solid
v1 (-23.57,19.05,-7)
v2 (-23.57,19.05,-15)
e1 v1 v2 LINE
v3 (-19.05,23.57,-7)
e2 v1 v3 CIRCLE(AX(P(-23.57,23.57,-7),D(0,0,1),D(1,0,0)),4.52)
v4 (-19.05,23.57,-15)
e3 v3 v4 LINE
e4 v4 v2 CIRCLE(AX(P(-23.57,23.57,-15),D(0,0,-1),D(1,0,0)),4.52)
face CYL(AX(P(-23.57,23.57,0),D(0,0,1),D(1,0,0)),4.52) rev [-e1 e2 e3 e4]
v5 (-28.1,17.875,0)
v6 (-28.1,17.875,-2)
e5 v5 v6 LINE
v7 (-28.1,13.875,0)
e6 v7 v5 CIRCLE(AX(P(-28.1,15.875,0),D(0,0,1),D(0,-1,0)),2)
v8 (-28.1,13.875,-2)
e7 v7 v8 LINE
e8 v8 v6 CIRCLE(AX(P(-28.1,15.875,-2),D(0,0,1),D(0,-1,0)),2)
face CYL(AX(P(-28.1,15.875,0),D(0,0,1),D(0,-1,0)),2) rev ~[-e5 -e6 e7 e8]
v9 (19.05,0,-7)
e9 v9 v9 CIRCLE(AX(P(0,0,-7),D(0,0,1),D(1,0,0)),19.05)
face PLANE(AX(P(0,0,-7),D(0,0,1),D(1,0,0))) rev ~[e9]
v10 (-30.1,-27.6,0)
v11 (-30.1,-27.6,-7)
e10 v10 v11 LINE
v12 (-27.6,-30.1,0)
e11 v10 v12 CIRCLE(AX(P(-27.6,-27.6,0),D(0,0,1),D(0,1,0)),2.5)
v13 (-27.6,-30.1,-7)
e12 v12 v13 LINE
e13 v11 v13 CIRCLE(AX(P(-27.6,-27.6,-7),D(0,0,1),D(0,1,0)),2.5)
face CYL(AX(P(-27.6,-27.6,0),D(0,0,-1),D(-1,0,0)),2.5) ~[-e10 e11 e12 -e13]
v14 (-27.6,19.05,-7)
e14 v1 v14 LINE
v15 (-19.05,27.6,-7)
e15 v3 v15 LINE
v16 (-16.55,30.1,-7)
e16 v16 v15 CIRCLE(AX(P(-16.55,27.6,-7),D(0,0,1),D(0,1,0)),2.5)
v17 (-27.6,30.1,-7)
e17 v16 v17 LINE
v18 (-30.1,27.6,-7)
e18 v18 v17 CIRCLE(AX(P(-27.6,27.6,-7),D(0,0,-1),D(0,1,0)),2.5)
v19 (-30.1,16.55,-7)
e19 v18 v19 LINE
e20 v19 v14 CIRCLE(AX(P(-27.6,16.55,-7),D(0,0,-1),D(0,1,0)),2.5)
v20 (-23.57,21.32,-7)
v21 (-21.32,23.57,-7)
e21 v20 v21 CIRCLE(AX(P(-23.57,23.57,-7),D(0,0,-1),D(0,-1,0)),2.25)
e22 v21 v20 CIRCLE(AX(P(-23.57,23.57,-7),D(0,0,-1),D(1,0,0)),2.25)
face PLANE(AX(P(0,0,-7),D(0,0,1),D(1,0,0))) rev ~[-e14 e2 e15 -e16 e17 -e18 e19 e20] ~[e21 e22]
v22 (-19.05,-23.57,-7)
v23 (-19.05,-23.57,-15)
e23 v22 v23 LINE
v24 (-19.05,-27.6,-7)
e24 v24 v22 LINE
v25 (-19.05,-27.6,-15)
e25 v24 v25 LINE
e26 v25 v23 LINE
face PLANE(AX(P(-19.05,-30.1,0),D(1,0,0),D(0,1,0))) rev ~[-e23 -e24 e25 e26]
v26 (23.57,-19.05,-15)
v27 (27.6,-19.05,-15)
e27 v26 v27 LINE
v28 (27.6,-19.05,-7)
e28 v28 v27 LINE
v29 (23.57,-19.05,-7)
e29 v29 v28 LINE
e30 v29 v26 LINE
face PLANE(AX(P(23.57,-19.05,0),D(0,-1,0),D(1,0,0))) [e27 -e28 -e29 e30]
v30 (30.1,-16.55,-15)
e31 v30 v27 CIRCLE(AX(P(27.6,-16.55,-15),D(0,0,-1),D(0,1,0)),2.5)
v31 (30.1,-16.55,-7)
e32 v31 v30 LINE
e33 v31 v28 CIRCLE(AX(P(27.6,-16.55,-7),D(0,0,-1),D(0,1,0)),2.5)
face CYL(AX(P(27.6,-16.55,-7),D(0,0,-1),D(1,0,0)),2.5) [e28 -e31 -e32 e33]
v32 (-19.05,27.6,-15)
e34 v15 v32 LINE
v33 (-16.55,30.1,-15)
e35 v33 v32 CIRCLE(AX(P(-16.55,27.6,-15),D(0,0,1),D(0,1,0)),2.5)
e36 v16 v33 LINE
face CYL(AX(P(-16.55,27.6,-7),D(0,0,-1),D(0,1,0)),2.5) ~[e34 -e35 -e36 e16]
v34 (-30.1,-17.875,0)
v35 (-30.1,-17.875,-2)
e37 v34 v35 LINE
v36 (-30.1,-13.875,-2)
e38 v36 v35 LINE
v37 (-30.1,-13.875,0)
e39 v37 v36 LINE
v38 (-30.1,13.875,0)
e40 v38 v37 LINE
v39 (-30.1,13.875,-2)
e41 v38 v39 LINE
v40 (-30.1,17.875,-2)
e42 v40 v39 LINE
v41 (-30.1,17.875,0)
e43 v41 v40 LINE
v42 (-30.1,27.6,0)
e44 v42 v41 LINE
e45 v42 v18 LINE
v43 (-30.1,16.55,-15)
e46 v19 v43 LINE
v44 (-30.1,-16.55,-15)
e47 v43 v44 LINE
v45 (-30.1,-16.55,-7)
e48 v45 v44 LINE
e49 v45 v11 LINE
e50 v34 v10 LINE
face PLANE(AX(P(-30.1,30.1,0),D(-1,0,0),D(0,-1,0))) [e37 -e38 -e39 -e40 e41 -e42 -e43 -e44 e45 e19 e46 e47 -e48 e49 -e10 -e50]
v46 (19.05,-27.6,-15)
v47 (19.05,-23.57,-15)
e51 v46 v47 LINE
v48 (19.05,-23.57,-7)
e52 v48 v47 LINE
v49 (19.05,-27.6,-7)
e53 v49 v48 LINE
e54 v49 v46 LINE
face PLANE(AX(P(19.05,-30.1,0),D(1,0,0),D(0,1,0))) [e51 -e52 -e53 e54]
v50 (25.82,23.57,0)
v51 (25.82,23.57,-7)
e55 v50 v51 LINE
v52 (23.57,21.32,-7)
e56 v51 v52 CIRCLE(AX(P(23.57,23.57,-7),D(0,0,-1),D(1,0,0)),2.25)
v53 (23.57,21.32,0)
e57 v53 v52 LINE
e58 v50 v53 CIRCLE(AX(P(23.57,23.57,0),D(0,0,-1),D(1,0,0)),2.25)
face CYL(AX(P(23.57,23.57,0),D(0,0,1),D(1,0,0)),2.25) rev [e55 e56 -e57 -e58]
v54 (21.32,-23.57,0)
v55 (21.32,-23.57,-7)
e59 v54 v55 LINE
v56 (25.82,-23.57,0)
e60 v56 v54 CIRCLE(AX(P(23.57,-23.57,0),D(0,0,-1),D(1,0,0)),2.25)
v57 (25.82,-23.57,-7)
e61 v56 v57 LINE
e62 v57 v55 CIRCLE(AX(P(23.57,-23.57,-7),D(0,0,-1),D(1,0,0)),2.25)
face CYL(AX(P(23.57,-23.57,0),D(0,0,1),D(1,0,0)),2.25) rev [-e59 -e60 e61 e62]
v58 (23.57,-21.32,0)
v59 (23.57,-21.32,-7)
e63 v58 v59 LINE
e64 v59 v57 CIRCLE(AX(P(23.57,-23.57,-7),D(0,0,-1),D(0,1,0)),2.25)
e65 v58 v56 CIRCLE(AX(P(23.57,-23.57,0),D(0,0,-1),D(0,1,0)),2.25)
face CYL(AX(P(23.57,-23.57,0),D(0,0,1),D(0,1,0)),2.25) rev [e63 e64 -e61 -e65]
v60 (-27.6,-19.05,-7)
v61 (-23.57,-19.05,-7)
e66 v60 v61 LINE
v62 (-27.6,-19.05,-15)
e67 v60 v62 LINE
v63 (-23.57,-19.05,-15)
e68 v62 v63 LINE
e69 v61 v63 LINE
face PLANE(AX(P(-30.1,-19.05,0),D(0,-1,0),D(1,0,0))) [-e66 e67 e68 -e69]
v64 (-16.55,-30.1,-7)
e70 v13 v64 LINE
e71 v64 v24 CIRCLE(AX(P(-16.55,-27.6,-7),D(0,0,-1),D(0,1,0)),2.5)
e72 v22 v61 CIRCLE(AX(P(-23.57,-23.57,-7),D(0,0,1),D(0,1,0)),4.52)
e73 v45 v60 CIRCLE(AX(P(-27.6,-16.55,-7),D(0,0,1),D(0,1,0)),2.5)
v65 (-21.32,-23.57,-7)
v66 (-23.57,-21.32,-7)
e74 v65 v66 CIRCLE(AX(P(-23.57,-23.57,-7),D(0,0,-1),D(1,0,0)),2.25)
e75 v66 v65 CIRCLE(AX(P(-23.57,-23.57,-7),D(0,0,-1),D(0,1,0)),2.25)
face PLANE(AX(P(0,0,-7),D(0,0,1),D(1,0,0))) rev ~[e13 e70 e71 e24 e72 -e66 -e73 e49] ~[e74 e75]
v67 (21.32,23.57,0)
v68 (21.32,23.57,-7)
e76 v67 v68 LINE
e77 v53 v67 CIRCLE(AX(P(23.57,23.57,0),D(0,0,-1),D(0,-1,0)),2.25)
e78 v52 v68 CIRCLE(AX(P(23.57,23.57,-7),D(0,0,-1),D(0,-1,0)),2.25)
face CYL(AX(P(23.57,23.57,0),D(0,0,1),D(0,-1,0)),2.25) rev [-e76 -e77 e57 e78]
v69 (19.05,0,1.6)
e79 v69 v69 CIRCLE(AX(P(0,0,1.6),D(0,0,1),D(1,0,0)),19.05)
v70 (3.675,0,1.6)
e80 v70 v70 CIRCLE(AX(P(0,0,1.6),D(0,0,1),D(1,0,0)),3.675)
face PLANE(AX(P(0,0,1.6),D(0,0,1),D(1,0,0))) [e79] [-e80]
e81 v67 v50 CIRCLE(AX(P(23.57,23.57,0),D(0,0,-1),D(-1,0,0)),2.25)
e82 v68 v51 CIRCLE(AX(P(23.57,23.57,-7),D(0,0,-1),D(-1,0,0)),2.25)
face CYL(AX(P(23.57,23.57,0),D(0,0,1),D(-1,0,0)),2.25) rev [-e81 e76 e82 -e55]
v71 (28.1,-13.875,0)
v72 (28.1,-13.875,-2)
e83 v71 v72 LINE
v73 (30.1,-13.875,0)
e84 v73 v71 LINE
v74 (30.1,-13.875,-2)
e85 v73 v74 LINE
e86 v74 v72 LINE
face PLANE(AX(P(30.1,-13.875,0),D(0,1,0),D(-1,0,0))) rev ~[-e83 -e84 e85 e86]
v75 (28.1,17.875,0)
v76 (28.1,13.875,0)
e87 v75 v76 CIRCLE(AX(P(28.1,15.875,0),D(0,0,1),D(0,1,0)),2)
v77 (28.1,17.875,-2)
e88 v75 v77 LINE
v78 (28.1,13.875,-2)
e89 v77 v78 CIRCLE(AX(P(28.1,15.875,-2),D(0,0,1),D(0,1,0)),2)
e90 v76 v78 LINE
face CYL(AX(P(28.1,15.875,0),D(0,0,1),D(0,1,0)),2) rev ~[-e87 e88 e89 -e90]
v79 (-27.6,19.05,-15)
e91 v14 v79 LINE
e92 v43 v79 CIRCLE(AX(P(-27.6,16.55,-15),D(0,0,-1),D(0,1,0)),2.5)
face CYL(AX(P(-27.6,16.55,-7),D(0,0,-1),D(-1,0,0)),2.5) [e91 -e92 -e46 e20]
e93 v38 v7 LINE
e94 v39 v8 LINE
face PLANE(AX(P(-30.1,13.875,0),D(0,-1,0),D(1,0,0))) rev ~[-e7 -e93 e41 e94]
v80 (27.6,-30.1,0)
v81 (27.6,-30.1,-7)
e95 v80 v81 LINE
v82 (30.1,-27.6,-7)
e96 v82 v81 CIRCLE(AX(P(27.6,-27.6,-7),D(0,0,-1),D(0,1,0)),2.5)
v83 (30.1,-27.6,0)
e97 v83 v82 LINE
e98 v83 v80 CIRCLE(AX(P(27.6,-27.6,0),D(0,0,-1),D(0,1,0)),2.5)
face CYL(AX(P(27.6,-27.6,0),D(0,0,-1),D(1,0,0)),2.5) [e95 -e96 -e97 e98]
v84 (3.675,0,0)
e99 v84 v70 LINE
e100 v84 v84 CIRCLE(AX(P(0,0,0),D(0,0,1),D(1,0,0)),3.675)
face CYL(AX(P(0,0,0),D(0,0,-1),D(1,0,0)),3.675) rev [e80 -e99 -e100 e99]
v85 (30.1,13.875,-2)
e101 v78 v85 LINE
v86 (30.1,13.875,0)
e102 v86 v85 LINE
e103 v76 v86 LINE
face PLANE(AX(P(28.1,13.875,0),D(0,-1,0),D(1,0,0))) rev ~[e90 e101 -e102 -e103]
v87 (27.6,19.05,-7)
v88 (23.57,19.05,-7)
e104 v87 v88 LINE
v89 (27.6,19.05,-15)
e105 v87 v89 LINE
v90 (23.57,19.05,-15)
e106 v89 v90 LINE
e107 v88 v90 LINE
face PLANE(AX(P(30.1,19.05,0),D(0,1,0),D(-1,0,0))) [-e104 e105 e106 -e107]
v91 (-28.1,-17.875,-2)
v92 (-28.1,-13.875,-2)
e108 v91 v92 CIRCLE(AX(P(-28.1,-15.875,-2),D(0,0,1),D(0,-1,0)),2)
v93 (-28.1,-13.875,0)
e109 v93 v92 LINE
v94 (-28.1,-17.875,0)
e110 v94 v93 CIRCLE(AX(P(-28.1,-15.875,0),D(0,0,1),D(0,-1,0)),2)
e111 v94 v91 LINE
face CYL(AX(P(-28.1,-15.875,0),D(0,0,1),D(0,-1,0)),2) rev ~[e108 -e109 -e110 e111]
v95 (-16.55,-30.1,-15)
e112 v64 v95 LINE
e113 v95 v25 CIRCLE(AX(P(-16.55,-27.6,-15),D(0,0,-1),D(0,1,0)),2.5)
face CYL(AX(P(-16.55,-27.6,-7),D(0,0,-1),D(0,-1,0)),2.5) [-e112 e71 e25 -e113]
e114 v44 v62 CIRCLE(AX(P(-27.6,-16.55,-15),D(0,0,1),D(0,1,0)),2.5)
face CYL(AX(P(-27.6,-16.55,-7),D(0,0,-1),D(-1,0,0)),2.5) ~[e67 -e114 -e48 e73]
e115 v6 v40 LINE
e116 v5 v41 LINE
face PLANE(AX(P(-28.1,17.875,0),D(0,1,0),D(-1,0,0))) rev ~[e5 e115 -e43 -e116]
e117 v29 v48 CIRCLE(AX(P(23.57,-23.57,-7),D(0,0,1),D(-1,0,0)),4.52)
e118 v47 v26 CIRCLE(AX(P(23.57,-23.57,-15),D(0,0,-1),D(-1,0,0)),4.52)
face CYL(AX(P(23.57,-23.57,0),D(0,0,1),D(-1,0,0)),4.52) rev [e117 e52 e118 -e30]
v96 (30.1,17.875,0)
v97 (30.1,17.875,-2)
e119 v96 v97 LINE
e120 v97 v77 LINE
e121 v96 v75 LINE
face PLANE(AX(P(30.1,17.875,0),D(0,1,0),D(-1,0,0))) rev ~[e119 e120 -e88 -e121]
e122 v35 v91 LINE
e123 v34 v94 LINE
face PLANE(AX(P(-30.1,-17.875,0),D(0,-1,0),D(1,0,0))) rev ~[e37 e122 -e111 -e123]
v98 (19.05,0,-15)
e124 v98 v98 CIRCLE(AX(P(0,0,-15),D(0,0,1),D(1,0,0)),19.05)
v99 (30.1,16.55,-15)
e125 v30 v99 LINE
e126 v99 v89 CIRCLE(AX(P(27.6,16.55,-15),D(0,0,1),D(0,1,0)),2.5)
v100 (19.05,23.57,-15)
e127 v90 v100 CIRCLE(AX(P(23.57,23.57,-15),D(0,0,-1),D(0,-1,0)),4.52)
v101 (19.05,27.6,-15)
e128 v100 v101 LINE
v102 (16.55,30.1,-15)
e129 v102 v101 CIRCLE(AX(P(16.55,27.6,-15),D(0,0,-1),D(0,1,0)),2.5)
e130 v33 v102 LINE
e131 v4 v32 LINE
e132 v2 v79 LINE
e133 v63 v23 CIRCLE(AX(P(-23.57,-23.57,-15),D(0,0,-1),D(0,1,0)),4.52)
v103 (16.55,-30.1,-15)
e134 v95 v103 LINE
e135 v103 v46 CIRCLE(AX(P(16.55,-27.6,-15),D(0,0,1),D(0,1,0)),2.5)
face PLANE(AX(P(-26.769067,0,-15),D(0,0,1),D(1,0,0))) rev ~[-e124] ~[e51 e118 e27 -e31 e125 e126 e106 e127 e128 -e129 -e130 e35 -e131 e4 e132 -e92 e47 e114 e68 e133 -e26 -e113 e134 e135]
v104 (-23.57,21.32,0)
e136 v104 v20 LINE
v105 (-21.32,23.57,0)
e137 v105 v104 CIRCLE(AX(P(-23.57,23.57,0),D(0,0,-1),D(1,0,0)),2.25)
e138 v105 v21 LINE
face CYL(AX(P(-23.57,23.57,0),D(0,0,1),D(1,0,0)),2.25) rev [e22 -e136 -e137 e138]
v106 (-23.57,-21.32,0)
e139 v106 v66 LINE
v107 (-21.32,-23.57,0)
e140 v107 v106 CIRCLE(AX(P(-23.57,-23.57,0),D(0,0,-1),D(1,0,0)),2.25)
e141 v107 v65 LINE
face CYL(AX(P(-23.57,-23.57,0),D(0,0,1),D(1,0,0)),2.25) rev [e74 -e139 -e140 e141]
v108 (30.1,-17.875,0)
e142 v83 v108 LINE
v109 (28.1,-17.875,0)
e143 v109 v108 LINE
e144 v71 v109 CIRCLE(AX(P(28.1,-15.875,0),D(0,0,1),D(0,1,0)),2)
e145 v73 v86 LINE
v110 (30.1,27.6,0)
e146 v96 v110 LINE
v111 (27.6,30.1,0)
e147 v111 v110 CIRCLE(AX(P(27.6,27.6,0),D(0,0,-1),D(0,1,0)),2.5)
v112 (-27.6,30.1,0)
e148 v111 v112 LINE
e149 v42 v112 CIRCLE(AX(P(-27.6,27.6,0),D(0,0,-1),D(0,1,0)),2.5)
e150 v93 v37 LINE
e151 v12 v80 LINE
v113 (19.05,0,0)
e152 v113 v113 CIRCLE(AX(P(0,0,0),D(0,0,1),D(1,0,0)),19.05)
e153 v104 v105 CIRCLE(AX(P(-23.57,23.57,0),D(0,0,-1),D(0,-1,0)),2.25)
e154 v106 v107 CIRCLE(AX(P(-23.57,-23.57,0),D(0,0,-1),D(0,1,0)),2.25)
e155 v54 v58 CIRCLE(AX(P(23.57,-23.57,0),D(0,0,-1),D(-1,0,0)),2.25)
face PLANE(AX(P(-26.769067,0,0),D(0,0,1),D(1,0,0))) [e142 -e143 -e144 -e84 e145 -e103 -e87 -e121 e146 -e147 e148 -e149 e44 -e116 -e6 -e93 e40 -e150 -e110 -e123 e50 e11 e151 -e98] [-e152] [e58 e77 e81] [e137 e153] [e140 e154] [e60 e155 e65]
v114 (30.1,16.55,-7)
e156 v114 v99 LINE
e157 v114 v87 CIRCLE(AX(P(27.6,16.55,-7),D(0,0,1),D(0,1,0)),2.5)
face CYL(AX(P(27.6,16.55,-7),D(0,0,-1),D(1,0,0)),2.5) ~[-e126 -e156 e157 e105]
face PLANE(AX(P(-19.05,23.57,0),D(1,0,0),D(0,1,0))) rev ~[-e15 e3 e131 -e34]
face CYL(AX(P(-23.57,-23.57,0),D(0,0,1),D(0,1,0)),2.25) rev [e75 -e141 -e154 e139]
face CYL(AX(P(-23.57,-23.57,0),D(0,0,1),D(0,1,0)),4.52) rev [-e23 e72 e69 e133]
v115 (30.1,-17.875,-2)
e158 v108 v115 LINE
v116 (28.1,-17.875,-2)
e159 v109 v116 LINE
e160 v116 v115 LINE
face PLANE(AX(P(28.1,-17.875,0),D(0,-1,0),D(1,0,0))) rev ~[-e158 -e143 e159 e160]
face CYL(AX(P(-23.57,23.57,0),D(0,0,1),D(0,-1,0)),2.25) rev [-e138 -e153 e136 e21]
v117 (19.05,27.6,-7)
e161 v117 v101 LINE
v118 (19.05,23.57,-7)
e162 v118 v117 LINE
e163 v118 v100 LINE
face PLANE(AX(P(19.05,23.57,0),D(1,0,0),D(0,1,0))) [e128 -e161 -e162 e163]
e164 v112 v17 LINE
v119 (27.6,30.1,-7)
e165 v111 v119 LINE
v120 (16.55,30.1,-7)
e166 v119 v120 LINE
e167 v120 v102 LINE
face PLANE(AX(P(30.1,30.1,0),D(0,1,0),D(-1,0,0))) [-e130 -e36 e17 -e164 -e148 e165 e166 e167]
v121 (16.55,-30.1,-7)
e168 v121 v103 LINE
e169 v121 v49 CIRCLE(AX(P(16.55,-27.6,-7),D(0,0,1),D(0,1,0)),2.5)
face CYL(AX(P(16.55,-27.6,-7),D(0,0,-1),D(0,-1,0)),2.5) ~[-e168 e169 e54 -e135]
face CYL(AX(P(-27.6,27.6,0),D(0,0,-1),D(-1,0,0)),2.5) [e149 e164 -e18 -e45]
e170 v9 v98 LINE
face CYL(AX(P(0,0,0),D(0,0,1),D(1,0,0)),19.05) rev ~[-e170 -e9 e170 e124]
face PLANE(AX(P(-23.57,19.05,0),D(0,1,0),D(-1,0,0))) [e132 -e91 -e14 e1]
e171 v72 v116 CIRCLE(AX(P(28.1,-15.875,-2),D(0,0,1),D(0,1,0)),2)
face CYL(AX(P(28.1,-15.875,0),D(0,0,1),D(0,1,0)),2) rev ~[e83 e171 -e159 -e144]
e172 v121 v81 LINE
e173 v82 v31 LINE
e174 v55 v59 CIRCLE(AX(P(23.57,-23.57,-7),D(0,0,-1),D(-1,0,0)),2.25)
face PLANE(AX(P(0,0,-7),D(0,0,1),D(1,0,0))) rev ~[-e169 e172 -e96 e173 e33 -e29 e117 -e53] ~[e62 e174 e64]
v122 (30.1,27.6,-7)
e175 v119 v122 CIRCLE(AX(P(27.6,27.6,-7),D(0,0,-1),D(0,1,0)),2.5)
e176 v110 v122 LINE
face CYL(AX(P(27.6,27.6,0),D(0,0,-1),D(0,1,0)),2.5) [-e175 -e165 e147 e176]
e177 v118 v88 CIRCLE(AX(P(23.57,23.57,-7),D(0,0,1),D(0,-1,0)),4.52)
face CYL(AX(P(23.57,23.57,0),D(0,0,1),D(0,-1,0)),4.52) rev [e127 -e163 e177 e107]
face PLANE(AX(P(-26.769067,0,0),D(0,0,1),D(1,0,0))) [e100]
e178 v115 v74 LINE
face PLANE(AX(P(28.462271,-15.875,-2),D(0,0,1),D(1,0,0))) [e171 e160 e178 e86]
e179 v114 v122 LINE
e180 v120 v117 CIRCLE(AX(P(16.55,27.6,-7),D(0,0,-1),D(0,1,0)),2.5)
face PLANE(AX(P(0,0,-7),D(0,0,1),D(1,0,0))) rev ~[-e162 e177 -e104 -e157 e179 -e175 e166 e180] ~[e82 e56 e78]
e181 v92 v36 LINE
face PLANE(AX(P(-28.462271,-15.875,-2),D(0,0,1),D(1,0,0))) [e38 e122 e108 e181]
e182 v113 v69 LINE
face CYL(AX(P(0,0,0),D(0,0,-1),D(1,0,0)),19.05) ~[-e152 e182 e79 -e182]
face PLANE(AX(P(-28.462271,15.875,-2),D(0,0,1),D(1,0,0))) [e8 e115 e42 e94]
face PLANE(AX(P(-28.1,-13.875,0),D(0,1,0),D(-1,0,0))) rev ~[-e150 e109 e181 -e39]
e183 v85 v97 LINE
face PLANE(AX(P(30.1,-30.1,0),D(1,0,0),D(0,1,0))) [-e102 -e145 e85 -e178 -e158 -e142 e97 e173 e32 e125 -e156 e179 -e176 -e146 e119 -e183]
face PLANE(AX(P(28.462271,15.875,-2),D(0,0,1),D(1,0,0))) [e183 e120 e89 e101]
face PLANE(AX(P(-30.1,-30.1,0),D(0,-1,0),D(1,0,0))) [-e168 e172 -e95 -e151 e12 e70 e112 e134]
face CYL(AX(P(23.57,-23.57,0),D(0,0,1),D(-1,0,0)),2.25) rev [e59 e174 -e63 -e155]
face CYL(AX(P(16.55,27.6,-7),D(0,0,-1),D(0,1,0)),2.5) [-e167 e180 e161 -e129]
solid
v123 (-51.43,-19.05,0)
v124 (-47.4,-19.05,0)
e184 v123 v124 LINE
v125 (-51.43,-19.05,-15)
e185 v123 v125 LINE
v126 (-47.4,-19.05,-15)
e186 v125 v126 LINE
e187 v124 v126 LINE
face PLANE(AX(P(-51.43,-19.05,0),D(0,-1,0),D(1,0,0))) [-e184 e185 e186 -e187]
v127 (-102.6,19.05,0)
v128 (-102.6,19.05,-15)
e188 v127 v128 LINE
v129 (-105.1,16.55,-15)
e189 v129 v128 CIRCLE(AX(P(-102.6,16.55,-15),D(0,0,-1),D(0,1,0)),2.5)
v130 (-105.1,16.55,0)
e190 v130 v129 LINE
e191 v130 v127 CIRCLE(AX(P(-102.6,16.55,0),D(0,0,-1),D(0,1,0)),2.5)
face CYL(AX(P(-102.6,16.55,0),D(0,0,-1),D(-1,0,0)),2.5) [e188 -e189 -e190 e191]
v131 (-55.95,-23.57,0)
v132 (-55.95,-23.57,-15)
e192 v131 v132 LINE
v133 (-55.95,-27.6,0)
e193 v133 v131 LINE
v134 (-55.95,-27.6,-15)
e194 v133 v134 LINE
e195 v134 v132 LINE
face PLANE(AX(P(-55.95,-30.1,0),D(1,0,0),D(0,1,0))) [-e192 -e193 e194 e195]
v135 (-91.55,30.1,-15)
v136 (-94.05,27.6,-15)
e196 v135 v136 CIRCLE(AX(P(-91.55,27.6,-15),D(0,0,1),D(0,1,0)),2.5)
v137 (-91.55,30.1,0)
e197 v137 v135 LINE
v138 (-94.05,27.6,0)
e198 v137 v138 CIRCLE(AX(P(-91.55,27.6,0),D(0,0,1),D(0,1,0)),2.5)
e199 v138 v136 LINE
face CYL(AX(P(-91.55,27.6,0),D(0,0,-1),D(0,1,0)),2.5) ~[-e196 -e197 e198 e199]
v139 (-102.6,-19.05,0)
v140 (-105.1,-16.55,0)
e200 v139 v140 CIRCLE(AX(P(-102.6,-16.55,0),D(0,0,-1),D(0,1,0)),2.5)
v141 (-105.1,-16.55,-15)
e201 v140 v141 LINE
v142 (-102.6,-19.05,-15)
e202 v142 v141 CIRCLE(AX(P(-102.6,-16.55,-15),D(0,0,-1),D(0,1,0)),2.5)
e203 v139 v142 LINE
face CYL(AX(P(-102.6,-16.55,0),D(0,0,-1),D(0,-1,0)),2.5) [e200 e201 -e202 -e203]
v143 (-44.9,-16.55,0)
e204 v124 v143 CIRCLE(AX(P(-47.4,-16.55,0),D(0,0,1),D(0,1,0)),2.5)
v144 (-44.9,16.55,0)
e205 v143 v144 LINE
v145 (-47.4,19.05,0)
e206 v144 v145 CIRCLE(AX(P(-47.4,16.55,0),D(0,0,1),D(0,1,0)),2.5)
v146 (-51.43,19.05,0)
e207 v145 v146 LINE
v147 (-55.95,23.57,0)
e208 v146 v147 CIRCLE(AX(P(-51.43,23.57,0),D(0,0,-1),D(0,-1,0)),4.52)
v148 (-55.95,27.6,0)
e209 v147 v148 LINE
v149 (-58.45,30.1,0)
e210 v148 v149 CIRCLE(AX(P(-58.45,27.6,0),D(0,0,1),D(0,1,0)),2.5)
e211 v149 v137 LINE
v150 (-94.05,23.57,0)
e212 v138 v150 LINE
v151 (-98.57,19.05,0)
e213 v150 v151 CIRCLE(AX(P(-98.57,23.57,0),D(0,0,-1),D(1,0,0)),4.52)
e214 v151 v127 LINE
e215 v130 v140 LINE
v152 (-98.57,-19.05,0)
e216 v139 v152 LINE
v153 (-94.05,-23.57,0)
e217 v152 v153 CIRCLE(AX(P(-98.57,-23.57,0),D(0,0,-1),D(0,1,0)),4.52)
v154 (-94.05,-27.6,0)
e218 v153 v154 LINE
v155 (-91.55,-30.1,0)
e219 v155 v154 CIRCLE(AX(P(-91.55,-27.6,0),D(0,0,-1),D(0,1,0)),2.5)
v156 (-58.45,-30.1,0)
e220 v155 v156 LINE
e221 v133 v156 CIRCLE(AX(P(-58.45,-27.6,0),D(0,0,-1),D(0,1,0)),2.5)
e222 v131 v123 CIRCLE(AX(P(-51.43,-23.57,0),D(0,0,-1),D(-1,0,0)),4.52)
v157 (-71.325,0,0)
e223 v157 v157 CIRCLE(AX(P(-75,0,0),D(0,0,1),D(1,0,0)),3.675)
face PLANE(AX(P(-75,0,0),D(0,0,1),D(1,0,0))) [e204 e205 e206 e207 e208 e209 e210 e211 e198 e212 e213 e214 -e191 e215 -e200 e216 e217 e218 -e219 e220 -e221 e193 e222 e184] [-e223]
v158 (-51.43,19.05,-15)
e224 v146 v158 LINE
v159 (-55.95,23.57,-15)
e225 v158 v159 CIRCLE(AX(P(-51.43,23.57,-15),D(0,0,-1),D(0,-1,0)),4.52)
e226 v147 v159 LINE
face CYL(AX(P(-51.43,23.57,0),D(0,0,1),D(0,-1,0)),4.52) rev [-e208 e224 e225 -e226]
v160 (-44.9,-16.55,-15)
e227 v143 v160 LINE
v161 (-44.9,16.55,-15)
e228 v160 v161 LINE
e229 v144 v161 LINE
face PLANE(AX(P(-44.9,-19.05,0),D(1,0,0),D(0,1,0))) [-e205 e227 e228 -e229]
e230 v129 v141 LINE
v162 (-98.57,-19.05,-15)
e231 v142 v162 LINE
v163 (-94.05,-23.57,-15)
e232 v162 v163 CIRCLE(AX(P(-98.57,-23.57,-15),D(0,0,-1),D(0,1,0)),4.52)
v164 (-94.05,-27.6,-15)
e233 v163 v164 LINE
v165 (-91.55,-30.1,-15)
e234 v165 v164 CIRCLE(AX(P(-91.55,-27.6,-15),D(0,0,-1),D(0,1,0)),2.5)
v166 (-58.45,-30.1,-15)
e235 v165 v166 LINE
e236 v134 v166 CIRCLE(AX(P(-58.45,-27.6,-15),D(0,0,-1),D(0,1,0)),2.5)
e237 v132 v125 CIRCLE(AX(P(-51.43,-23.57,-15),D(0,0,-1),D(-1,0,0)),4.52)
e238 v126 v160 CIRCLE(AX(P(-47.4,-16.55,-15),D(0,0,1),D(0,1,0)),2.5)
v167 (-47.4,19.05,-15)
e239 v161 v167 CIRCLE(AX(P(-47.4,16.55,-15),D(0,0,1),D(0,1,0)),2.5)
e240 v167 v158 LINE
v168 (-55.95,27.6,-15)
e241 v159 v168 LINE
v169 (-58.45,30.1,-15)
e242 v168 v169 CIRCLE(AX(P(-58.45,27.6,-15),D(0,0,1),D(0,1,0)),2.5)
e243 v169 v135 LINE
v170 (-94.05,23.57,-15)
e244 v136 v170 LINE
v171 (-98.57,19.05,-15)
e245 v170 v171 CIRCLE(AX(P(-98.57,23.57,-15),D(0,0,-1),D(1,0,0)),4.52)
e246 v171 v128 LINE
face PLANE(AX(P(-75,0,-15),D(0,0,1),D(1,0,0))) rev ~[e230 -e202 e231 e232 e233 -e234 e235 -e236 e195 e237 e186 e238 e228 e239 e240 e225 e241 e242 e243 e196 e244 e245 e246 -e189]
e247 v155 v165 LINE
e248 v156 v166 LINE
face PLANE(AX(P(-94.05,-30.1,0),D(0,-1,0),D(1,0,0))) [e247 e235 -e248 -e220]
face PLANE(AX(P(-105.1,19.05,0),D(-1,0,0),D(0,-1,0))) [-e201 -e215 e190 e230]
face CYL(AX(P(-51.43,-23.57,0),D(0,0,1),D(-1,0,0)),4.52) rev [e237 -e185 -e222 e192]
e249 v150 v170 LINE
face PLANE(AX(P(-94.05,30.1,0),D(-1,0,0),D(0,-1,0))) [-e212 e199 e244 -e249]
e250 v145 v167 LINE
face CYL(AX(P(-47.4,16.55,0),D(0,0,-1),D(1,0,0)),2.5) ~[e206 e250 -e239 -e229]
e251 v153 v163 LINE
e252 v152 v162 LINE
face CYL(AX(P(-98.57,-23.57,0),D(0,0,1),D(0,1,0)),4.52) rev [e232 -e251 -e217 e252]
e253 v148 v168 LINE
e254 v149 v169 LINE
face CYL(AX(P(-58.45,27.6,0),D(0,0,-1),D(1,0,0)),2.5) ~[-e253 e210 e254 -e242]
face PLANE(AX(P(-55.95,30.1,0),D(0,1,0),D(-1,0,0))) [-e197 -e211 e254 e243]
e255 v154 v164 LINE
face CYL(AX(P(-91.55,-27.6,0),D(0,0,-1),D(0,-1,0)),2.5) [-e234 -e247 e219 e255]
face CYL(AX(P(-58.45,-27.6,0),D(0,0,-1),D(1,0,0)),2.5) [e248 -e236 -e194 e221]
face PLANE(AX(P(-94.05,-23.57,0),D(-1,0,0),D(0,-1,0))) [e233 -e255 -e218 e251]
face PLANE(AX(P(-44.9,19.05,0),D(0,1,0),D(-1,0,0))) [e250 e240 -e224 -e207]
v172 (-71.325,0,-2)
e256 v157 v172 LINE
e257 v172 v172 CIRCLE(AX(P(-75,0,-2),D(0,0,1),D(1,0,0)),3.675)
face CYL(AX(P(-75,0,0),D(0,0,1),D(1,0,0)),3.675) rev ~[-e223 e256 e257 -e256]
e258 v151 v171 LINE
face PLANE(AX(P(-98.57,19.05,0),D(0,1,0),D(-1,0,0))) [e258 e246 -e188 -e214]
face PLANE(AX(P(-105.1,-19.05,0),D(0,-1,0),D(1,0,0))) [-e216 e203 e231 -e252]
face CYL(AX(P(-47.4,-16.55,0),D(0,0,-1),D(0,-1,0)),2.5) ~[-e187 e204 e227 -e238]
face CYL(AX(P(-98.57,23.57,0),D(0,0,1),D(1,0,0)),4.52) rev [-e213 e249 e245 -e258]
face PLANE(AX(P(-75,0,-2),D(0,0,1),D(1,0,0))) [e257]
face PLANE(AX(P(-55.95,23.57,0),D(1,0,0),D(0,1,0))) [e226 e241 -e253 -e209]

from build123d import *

# Parameters (mm, degrees)
F0_R     = 19.05
F0_R_2   = 3.675
F0_W     = 38.1
F0_H     = 6.53
F1_DEPTH = 7
F2_DEPTH = 15
F3_DEPTH = 1.6
F4_DEPTH = 2
F5_DEPTH = 15
F6_DEPTH = 2
F7_R     = 2.5
F7_2_R   = 2.5


with BuildPart() as f1:
    # F0 (on Top) → F1 (new body)
    with BuildSketch(Plane.XY):
        with BuildLine():
            ThreePointArc((23.57, 19.05), (20.373877349, 20.373877349), (19.05, 23.57))
            Line((19.05, 23.57), (-19.05, 23.57))
            ThreePointArc((-19.05, 23.57), (-20.373877349, 20.373877349), (-23.57, 19.05))
            Line((-23.57, 19.05), (-23.57, -19.05))
            ThreePointArc((-23.57, -19.05), (-20.373877349, -20.373877349), (-19.05, -23.57))
            Line((-19.05, -23.57), (19.05, -23.57))
            ThreePointArc((19.05, -23.57), (20.373877349, -20.373877349), (23.57, -19.05))
            Line((23.57, -19.05), (23.57, 19.05))
        make_face()
        Circle(F0_R, mode=Mode.SUBTRACT)
        Circle(F0_R)
        Circle(F0_R_2, mode=Mode.SUBTRACT)
        with Locations((0, 26.835)):
            Rectangle(F0_W, F0_H)
        with Locations((0, -26.835)):
            Rectangle(F0_W, F0_H)
        with BuildLine():
            Line((-23.57, 19.05), (-30.1, 19.05))
            Line((-30.1, 19.05), (-30.1, 17.875))
            Line((-30.1, 17.875), (-28.1, 17.875))
            ThreePointArc((-28.1, 17.875), (-26.1, 15.875), (-28.1, 13.875))
            Line((-28.1, 13.875), (-30.1, 13.875))
            Line((-30.1, 13.875), (-30.1, -13.875))
            Line((-30.1, -13.875), (-28.1, -13.875))
            ThreePointArc((-28.1, -13.875), (-26.1, -15.875), (-28.1, -17.875))
            Line((-28.1, -17.875), (-30.1, -17.875))
            Line((-30.1, -17.875), (-30.1, -19.05))
            Line((-30.1, -19.05), (-23.57, -19.05))
            Line((-23.57, -19.05), (-23.57, 19.05))
        make_face()
        with BuildLine():
            Line((30.1, 17.875), (30.1, 19.05))
            Line((30.1, 19.05), (23.57, 19.05))
            Line((23.57, 19.05), (23.57, -19.05))
            Line((23.57, -19.05), (30.1, -19.05))
            Line((30.1, -19.05), (30.1, -17.875))
            Line((30.1, -17.875), (28.1, -17.875))
            ThreePointArc((28.1, -17.875), (26.1, -15.875), (28.1, -13.875))
            Line((28.1, -13.875), (30.1, -13.875))
            Line((30.1, -13.875), (30.1, 13.875))
            Line((30.1, 13.875), (28.1, 13.875))
            ThreePointArc((28.1, 13.875), (26.1, 15.875), (28.1, 17.875))
            Line((28.1, 17.875), (30.1, 17.875))
        make_face()
        with BuildLine():
            Line((-19.05, 23.57), (-19.05, 30.1))
            Line((-19.05, 30.1), (-30.1, 30.1))
            Line((-30.1, 30.1), (-30.1, 19.05))
            Line((-30.1, 19.05), (-23.57, 19.05))
            Line((-23.57, 19.05), (-23.57, 21.32))
            ThreePointArc((-23.57, 21.32), (-25.1609902577, 25.1609902577), (-21.32, 23.57))
            Line((-21.32, 23.57), (-19.05, 23.57))
        make_face()
        with BuildLine():
            Line((30.1, 19.05), (30.1, 30.1))
            Line((30.1, 30.1), (19.05, 30.1))
            Line((19.05, 30.1), (19.05, 23.57))
            Line((19.05, 23.57), (21.32, 23.57))
            ThreePointArc((21.32, 23.57), (23.57, 25.82), (25.82, 23.57))
            ThreePointArc((25.82, 23.57), (25.1609902577, 21.9790097423), (23.57, 21.32))
            Line((23.57, 21.32), (23.57, 19.05))
            Line((23.57, 19.05), (30.1, 19.05))
        make_face()
        with BuildLine():
            Line((-23.57, -21.32), (-23.57, -19.05))
            Line((-23.57, -19.05), (-30.1, -19.05))
            Line((-30.1, -19.05), (-30.1, -30.1))
            Line((-30.1, -30.1), (-19.05, -30.1))
            Line((-19.05, -30.1), (-19.05, -23.57))
            Line((-19.05, -23.57), (-21.32, -23.57))
            ThreePointArc((-21.32, -23.57), (-25.1609902577, -25.1609902577), (-23.57, -21.32))
        make_face()
        with BuildLine():
            Line((30.1, -19.05), (23.57, -19.05))
            Line((23.57, -19.05), (23.57, -21.32))
            ThreePointArc((23.57, -21.32), (25.1609902577, -21.9790097423), (25.82, -23.57))
            ThreePointArc((25.82, -23.57), (23.57, -25.82), (21.32, -23.57))
            Line((21.32, -23.57), (19.05, -23.57))
            Line((19.05, -23.57), (19.05, -30.1))
            Line((19.05, -30.1), (30.1, -30.1))
            Line((30.1, -30.1), (30.1, -19.05))
        make_face()
        Circle(F0_R_2)
        with BuildLine():
            Line((-28.1, 17.875), (-30.1, 17.875))
            Line((-30.1, 17.875), (-30.1, 13.875))
            Line((-30.1, 13.875), (-28.1, 13.875))
            ThreePointArc((-28.1, 13.875), (-26.1, 15.875), (-28.1, 17.875))
        make_face()
        with BuildLine():
            Line((-28.1, -13.875), (-30.1, -13.875))
            Line((-30.1, -13.875), (-30.1, -17.875))
            Line((-30.1, -17.875), (-28.1, -17.875))
            ThreePointArc((-28.1, -17.875), (-26.1, -15.875), (-28.1, -13.875))
        make_face()
        with BuildLine():
            Line((30.1, -17.875), (30.1, -13.875))
            Line((30.1, -13.875), (28.1, -13.875))
            ThreePointArc((28.1, -13.875), (26.1, -15.875), (28.1, -17.875))
            Line((28.1, -17.875), (30.1, -17.875))
        make_face()
        with BuildLine():
            Line((30.1, 13.875), (30.1, 17.875))
            Line((30.1, 17.875), (28.1, 17.875))
            ThreePointArc((28.1, 17.875), (26.1, 15.875), (28.1, 13.875))
            Line((28.1, 13.875), (30.1, 13.875))
        make_face()
        with BuildLine():
            ThreePointArc((-23.57, 19.05), (-20.373877349, 20.373877349), (-19.05, 23.57))
            Line((-19.05, 23.57), (-21.32, 23.57))
            ThreePointArc((-21.32, 23.57), (-21.9790097423, 21.9790097423), (-23.57, 21.32))
            Line((-23.57, 21.32), (-23.57, 19.05))
        make_face()
        with BuildLine():
            ThreePointArc((-19.05, -23.57), (-20.373877349, -20.373877349), (-23.57, -19.05))
            Line((-23.57, -19.05), (-23.57, -21.32))
            ThreePointArc((-23.57, -21.32), (-21.9790097423, -21.9790097423), (-21.32, -23.57))
            Line((-21.32, -23.57), (-19.05, -23.57))
        make_face()
        with BuildLine():
            Line((23.57, -21.32), (23.57, -19.05))
            ThreePointArc((23.57, -19.05), (20.373877349, -20.373877349), (19.05, -23.57))
            Line((19.05, -23.57), (21.32, -23.57))
            ThreePointArc((21.32, -23.57), (21.9790097423, -21.9790097423), (23.57, -21.32))
        make_face()
        with BuildLine():
            Line((21.32, 23.57), (19.05, 23.57))
            ThreePointArc((19.05, 23.57), (20.373877349, 20.373877349), (23.57, 19.05))
            Line((23.57, 19.05), (23.57, 21.32))
            ThreePointArc((23.57, 21.32), (21.9790097423, 21.9790097423), (21.32, 23.57))
        make_face()
    extrude(amount=-F1_DEPTH)

    # F0 (on Top) → F2 (join)
    with BuildSketch(Plane.XY):
        with BuildLine():
            Line((-23.57, 19.05), (-30.1, 19.05))
            Line((-30.1, 19.05), (-30.1, 17.875))
            Line((-30.1, 17.875), (-28.1, 17.875))
            ThreePointArc((-28.1, 17.875), (-26.1, 15.875), (-28.1, 13.875))
            Line((-28.1, 13.875), (-30.1, 13.875))
            Line((-30.1, 13.875), (-30.1, -13.875))
            Line((-30.1, -13.875), (-28.1, -13.875))
            ThreePointArc((-28.1, -13.875), (-26.1, -15.875), (-28.1, -17.875))
            Line((-28.1, -17.875), (-30.1, -17.875))
            Line((-30.1, -17.875), (-30.1, -19.05))
            Line((-30.1, -19.05), (-23.57, -19.05))
            Line((-23.57, -19.05), (-23.57, 19.05))
        make_face()
        with BuildLine():
            Line((-28.1, 17.875), (-30.1, 17.875))
            Line((-30.1, 17.875), (-30.1, 13.875))
            Line((-30.1, 13.875), (-28.1, 13.875))
            ThreePointArc((-28.1, 13.875), (-26.1, 15.875), (-28.1, 17.875))
        make_face()
        with BuildLine():
            Line((-28.1, -13.875), (-30.1, -13.875))
            Line((-30.1, -13.875), (-30.1, -17.875))
            Line((-30.1, -17.875), (-28.1, -17.875))
            ThreePointArc((-28.1, -17.875), (-26.1, -15.875), (-28.1, -13.875))
        make_face()
        with BuildLine():
            ThreePointArc((23.57, 19.05), (20.373877349, 20.373877349), (19.05, 23.57))
            Line((19.05, 23.57), (-19.05, 23.57))
            ThreePointArc((-19.05, 23.57), (-20.373877349, 20.373877349), (-23.57, 19.05))
            Line((-23.57, 19.05), (-23.57, -19.05))
            ThreePointArc((-23.57, -19.05), (-20.373877349, -20.373877349), (-19.05, -23.57))
            Line((-19.05, -23.57), (19.05, -23.57))
            ThreePointArc((19.05, -23.57), (20.373877349, -20.373877349), (23.57, -19.05))
            Line((23.57, -19.05), (23.57, 19.05))
        make_face()
        Circle(F0_R, mode=Mode.SUBTRACT)
        with Locations((0, -26.835)):
            Rectangle(F0_W, F0_H)
        with BuildLine():
            Line((30.1, 17.875), (30.1, 19.05))
            Line((30.1, 19.05), (23.57, 19.05))
            Line((23.57, 19.05), (23.57, -19.05))
            Line((23.57, -19.05), (30.1, -19.05))
            Line((30.1, -19.05), (30.1, -17.875))
            Line((30.1, -17.875), (28.1, -17.875))
            ThreePointArc((28.1, -17.875), (26.1, -15.875), (28.1, -13.875))
            Line((28.1, -13.875), (30.1, -13.875))
            Line((30.1, -13.875), (30.1, 13.875))
            Line((30.1, 13.875), (28.1, 13.875))
            ThreePointArc((28.1, 13.875), (26.1, 15.875), (28.1, 17.875))
            Line((28.1, 17.875), (30.1, 17.875))
        make_face()
        with BuildLine():
            Line((30.1, -17.875), (30.1, -13.875))
            Line((30.1, -13.875), (28.1, -13.875))
            ThreePointArc((28.1, -13.875), (26.1, -15.875), (28.1, -17.875))
            Line((28.1, -17.875), (30.1, -17.875))
        make_face()
        with BuildLine():
            Line((30.1, 13.875), (30.1, 17.875))
            Line((30.1, 17.875), (28.1, 17.875))
            ThreePointArc((28.1, 17.875), (26.1, 15.875), (28.1, 13.875))
            Line((28.1, 13.875), (30.1, 13.875))
        make_face()
        with Locations((0, 26.835)):
            Rectangle(F0_W, F0_H)
    extrude(amount=-F2_DEPTH)

    # F0 (on Top) → F3 (join)
    with BuildSketch(Plane.XY):
        Circle(F0_R)
        Circle(F0_R_2, mode=Mode.SUBTRACT)
    extrude(amount=F3_DEPTH)

    # F0 (on Top) → F4 (cut)
    with BuildSketch(Plane.XY):
        with BuildLine():
            Line((-28.1, 17.875), (-30.1, 17.875))
            Line((-30.1, 17.875), (-30.1, 13.875))
            Line((-30.1, 13.875), (-28.1, 13.875))
            ThreePointArc((-28.1, 13.875), (-26.1, 15.875), (-28.1, 17.875))
        make_face()
        with BuildLine():
            Line((-28.1, -13.875), (-30.1, -13.875))
            Line((-30.1, -13.875), (-30.1, -17.875))
            Line((-30.1, -17.875), (-28.1, -17.875))
            ThreePointArc((-28.1, -17.875), (-26.1, -15.875), (-28.1, -13.875))
        make_face()
        with BuildLine():
            Line((30.1, 13.875), (30.1, 17.875))
            Line((30.1, 17.875), (28.1, 17.875))
            ThreePointArc((28.1, 17.875), (26.1, 15.875), (28.1, 13.875))
            Line((28.1, 13.875), (30.1, 13.875))
        make_face()
        with BuildLine():
            Line((30.1, -17.875), (30.1, -13.875))
            Line((30.1, -13.875), (28.1, -13.875))
            ThreePointArc((28.1, -13.875), (26.1, -15.875), (28.1, -17.875))
            Line((28.1, -17.875), (30.1, -17.875))
        make_face()
    extrude(amount=-F4_DEPTH, mode=Mode.SUBTRACT)

    # F7
    f7_edges = [f1.edges().sort_by_distance(p)[0] for p in [
        (-30.1, -30.1, -3.5),
        (-19.05, -30.1, -11),
        (-30.1, -19.05, -11),
        (19.05, -30.1, -11),
        (30.1, -30.1, -3.5),
        (30.1, -19.05, -11),
        (30.1, 19.05, -11),
        (30.1, 30.1, -3.5),
        (19.05, 30.1, -11),
        (-19.05, 30.1, -11),
        (-30.1, 30.1, -3.5),
        (-30.1, 19.05, -11),
    ]]
    fillet(f7_edges, radius=F7_R)


with BuildPart() as f5:
    # F0 (on Top) → F5 (new body)
    with BuildSketch(Plane.XY):
        with BuildLine():
            Line((-55.95, -30.1), (-55.95, -23.57))
            ThreePointArc((-55.95, -23.57), (-54.626122651, -20.373877349), (-51.43, -19.05))
            Line((-51.43, -19.05), (-44.9, -19.05))
            Line((-44.9, -19.05), (-44.9, 19.05))
            Line((-44.9, 19.05), (-51.43, 19.05))
            ThreePointArc((-51.43, 19.05), (-54.626122651, 20.373877349), (-55.95, 23.57))
            Line((-55.95, 23.57), (-55.95, 30.1))
            Line((-55.95, 30.1), (-94.05, 30.1))
            Line((-94.05, 30.1), (-94.05, 23.57))
            ThreePointArc((-94.05, 23.57), (-95.373877349, 20.373877349), (-98.57, 19.05))
            Line((-98.57, 19.05), (-105.1, 19.05))
            Line((-105.1, 19.05), (-105.1, -19.05))
            Line((-105.1, -19.05), (-98.57, -19.05))
            ThreePointArc((-98.57, -19.05), (-95.373877349, -20.373877349), (-94.05, -23.57))
            Line((-94.05, -23.57), (-94.05, -30.1))
            Line((-94.05, -30.1), (-55.95, -30.1))
        make_face()
        with Locations((-75, 0)):
            Circle(F0_R_2, mode=Mode.SUBTRACT)
        with Locations((-75, 0)):
            Circle(F0_R_2)
    extrude(amount=-F5_DEPTH)

    # F0 (on Top) → F6 (cut)
    with BuildSketch(Plane.XY):
        with Locations((-75, 0)):
            Circle(F0_R_2)
    extrude(amount=-F6_DEPTH, mode=Mode.SUBTRACT)

    # F7#2
    f7_2_edges = [f5.edges().sort_by_distance(p)[0] for p in [
        (-94.05, -30.1, -7.5),
        (-55.95, -30.1, -7.5),
        (-44.9, -19.05, -7.5),
        (-44.9, 19.05, -7.5),
        (-55.95, 30.1, -7.5),
        (-94.05, 30.1, -7.5),
        (-105.1, 19.05, -7.5),
        (-105.1, -19.05, -7.5),
    ]]
    fillet(f7_2_edges, radius=F7_2_R)


solid = Compound([f1.part, f5.part])
